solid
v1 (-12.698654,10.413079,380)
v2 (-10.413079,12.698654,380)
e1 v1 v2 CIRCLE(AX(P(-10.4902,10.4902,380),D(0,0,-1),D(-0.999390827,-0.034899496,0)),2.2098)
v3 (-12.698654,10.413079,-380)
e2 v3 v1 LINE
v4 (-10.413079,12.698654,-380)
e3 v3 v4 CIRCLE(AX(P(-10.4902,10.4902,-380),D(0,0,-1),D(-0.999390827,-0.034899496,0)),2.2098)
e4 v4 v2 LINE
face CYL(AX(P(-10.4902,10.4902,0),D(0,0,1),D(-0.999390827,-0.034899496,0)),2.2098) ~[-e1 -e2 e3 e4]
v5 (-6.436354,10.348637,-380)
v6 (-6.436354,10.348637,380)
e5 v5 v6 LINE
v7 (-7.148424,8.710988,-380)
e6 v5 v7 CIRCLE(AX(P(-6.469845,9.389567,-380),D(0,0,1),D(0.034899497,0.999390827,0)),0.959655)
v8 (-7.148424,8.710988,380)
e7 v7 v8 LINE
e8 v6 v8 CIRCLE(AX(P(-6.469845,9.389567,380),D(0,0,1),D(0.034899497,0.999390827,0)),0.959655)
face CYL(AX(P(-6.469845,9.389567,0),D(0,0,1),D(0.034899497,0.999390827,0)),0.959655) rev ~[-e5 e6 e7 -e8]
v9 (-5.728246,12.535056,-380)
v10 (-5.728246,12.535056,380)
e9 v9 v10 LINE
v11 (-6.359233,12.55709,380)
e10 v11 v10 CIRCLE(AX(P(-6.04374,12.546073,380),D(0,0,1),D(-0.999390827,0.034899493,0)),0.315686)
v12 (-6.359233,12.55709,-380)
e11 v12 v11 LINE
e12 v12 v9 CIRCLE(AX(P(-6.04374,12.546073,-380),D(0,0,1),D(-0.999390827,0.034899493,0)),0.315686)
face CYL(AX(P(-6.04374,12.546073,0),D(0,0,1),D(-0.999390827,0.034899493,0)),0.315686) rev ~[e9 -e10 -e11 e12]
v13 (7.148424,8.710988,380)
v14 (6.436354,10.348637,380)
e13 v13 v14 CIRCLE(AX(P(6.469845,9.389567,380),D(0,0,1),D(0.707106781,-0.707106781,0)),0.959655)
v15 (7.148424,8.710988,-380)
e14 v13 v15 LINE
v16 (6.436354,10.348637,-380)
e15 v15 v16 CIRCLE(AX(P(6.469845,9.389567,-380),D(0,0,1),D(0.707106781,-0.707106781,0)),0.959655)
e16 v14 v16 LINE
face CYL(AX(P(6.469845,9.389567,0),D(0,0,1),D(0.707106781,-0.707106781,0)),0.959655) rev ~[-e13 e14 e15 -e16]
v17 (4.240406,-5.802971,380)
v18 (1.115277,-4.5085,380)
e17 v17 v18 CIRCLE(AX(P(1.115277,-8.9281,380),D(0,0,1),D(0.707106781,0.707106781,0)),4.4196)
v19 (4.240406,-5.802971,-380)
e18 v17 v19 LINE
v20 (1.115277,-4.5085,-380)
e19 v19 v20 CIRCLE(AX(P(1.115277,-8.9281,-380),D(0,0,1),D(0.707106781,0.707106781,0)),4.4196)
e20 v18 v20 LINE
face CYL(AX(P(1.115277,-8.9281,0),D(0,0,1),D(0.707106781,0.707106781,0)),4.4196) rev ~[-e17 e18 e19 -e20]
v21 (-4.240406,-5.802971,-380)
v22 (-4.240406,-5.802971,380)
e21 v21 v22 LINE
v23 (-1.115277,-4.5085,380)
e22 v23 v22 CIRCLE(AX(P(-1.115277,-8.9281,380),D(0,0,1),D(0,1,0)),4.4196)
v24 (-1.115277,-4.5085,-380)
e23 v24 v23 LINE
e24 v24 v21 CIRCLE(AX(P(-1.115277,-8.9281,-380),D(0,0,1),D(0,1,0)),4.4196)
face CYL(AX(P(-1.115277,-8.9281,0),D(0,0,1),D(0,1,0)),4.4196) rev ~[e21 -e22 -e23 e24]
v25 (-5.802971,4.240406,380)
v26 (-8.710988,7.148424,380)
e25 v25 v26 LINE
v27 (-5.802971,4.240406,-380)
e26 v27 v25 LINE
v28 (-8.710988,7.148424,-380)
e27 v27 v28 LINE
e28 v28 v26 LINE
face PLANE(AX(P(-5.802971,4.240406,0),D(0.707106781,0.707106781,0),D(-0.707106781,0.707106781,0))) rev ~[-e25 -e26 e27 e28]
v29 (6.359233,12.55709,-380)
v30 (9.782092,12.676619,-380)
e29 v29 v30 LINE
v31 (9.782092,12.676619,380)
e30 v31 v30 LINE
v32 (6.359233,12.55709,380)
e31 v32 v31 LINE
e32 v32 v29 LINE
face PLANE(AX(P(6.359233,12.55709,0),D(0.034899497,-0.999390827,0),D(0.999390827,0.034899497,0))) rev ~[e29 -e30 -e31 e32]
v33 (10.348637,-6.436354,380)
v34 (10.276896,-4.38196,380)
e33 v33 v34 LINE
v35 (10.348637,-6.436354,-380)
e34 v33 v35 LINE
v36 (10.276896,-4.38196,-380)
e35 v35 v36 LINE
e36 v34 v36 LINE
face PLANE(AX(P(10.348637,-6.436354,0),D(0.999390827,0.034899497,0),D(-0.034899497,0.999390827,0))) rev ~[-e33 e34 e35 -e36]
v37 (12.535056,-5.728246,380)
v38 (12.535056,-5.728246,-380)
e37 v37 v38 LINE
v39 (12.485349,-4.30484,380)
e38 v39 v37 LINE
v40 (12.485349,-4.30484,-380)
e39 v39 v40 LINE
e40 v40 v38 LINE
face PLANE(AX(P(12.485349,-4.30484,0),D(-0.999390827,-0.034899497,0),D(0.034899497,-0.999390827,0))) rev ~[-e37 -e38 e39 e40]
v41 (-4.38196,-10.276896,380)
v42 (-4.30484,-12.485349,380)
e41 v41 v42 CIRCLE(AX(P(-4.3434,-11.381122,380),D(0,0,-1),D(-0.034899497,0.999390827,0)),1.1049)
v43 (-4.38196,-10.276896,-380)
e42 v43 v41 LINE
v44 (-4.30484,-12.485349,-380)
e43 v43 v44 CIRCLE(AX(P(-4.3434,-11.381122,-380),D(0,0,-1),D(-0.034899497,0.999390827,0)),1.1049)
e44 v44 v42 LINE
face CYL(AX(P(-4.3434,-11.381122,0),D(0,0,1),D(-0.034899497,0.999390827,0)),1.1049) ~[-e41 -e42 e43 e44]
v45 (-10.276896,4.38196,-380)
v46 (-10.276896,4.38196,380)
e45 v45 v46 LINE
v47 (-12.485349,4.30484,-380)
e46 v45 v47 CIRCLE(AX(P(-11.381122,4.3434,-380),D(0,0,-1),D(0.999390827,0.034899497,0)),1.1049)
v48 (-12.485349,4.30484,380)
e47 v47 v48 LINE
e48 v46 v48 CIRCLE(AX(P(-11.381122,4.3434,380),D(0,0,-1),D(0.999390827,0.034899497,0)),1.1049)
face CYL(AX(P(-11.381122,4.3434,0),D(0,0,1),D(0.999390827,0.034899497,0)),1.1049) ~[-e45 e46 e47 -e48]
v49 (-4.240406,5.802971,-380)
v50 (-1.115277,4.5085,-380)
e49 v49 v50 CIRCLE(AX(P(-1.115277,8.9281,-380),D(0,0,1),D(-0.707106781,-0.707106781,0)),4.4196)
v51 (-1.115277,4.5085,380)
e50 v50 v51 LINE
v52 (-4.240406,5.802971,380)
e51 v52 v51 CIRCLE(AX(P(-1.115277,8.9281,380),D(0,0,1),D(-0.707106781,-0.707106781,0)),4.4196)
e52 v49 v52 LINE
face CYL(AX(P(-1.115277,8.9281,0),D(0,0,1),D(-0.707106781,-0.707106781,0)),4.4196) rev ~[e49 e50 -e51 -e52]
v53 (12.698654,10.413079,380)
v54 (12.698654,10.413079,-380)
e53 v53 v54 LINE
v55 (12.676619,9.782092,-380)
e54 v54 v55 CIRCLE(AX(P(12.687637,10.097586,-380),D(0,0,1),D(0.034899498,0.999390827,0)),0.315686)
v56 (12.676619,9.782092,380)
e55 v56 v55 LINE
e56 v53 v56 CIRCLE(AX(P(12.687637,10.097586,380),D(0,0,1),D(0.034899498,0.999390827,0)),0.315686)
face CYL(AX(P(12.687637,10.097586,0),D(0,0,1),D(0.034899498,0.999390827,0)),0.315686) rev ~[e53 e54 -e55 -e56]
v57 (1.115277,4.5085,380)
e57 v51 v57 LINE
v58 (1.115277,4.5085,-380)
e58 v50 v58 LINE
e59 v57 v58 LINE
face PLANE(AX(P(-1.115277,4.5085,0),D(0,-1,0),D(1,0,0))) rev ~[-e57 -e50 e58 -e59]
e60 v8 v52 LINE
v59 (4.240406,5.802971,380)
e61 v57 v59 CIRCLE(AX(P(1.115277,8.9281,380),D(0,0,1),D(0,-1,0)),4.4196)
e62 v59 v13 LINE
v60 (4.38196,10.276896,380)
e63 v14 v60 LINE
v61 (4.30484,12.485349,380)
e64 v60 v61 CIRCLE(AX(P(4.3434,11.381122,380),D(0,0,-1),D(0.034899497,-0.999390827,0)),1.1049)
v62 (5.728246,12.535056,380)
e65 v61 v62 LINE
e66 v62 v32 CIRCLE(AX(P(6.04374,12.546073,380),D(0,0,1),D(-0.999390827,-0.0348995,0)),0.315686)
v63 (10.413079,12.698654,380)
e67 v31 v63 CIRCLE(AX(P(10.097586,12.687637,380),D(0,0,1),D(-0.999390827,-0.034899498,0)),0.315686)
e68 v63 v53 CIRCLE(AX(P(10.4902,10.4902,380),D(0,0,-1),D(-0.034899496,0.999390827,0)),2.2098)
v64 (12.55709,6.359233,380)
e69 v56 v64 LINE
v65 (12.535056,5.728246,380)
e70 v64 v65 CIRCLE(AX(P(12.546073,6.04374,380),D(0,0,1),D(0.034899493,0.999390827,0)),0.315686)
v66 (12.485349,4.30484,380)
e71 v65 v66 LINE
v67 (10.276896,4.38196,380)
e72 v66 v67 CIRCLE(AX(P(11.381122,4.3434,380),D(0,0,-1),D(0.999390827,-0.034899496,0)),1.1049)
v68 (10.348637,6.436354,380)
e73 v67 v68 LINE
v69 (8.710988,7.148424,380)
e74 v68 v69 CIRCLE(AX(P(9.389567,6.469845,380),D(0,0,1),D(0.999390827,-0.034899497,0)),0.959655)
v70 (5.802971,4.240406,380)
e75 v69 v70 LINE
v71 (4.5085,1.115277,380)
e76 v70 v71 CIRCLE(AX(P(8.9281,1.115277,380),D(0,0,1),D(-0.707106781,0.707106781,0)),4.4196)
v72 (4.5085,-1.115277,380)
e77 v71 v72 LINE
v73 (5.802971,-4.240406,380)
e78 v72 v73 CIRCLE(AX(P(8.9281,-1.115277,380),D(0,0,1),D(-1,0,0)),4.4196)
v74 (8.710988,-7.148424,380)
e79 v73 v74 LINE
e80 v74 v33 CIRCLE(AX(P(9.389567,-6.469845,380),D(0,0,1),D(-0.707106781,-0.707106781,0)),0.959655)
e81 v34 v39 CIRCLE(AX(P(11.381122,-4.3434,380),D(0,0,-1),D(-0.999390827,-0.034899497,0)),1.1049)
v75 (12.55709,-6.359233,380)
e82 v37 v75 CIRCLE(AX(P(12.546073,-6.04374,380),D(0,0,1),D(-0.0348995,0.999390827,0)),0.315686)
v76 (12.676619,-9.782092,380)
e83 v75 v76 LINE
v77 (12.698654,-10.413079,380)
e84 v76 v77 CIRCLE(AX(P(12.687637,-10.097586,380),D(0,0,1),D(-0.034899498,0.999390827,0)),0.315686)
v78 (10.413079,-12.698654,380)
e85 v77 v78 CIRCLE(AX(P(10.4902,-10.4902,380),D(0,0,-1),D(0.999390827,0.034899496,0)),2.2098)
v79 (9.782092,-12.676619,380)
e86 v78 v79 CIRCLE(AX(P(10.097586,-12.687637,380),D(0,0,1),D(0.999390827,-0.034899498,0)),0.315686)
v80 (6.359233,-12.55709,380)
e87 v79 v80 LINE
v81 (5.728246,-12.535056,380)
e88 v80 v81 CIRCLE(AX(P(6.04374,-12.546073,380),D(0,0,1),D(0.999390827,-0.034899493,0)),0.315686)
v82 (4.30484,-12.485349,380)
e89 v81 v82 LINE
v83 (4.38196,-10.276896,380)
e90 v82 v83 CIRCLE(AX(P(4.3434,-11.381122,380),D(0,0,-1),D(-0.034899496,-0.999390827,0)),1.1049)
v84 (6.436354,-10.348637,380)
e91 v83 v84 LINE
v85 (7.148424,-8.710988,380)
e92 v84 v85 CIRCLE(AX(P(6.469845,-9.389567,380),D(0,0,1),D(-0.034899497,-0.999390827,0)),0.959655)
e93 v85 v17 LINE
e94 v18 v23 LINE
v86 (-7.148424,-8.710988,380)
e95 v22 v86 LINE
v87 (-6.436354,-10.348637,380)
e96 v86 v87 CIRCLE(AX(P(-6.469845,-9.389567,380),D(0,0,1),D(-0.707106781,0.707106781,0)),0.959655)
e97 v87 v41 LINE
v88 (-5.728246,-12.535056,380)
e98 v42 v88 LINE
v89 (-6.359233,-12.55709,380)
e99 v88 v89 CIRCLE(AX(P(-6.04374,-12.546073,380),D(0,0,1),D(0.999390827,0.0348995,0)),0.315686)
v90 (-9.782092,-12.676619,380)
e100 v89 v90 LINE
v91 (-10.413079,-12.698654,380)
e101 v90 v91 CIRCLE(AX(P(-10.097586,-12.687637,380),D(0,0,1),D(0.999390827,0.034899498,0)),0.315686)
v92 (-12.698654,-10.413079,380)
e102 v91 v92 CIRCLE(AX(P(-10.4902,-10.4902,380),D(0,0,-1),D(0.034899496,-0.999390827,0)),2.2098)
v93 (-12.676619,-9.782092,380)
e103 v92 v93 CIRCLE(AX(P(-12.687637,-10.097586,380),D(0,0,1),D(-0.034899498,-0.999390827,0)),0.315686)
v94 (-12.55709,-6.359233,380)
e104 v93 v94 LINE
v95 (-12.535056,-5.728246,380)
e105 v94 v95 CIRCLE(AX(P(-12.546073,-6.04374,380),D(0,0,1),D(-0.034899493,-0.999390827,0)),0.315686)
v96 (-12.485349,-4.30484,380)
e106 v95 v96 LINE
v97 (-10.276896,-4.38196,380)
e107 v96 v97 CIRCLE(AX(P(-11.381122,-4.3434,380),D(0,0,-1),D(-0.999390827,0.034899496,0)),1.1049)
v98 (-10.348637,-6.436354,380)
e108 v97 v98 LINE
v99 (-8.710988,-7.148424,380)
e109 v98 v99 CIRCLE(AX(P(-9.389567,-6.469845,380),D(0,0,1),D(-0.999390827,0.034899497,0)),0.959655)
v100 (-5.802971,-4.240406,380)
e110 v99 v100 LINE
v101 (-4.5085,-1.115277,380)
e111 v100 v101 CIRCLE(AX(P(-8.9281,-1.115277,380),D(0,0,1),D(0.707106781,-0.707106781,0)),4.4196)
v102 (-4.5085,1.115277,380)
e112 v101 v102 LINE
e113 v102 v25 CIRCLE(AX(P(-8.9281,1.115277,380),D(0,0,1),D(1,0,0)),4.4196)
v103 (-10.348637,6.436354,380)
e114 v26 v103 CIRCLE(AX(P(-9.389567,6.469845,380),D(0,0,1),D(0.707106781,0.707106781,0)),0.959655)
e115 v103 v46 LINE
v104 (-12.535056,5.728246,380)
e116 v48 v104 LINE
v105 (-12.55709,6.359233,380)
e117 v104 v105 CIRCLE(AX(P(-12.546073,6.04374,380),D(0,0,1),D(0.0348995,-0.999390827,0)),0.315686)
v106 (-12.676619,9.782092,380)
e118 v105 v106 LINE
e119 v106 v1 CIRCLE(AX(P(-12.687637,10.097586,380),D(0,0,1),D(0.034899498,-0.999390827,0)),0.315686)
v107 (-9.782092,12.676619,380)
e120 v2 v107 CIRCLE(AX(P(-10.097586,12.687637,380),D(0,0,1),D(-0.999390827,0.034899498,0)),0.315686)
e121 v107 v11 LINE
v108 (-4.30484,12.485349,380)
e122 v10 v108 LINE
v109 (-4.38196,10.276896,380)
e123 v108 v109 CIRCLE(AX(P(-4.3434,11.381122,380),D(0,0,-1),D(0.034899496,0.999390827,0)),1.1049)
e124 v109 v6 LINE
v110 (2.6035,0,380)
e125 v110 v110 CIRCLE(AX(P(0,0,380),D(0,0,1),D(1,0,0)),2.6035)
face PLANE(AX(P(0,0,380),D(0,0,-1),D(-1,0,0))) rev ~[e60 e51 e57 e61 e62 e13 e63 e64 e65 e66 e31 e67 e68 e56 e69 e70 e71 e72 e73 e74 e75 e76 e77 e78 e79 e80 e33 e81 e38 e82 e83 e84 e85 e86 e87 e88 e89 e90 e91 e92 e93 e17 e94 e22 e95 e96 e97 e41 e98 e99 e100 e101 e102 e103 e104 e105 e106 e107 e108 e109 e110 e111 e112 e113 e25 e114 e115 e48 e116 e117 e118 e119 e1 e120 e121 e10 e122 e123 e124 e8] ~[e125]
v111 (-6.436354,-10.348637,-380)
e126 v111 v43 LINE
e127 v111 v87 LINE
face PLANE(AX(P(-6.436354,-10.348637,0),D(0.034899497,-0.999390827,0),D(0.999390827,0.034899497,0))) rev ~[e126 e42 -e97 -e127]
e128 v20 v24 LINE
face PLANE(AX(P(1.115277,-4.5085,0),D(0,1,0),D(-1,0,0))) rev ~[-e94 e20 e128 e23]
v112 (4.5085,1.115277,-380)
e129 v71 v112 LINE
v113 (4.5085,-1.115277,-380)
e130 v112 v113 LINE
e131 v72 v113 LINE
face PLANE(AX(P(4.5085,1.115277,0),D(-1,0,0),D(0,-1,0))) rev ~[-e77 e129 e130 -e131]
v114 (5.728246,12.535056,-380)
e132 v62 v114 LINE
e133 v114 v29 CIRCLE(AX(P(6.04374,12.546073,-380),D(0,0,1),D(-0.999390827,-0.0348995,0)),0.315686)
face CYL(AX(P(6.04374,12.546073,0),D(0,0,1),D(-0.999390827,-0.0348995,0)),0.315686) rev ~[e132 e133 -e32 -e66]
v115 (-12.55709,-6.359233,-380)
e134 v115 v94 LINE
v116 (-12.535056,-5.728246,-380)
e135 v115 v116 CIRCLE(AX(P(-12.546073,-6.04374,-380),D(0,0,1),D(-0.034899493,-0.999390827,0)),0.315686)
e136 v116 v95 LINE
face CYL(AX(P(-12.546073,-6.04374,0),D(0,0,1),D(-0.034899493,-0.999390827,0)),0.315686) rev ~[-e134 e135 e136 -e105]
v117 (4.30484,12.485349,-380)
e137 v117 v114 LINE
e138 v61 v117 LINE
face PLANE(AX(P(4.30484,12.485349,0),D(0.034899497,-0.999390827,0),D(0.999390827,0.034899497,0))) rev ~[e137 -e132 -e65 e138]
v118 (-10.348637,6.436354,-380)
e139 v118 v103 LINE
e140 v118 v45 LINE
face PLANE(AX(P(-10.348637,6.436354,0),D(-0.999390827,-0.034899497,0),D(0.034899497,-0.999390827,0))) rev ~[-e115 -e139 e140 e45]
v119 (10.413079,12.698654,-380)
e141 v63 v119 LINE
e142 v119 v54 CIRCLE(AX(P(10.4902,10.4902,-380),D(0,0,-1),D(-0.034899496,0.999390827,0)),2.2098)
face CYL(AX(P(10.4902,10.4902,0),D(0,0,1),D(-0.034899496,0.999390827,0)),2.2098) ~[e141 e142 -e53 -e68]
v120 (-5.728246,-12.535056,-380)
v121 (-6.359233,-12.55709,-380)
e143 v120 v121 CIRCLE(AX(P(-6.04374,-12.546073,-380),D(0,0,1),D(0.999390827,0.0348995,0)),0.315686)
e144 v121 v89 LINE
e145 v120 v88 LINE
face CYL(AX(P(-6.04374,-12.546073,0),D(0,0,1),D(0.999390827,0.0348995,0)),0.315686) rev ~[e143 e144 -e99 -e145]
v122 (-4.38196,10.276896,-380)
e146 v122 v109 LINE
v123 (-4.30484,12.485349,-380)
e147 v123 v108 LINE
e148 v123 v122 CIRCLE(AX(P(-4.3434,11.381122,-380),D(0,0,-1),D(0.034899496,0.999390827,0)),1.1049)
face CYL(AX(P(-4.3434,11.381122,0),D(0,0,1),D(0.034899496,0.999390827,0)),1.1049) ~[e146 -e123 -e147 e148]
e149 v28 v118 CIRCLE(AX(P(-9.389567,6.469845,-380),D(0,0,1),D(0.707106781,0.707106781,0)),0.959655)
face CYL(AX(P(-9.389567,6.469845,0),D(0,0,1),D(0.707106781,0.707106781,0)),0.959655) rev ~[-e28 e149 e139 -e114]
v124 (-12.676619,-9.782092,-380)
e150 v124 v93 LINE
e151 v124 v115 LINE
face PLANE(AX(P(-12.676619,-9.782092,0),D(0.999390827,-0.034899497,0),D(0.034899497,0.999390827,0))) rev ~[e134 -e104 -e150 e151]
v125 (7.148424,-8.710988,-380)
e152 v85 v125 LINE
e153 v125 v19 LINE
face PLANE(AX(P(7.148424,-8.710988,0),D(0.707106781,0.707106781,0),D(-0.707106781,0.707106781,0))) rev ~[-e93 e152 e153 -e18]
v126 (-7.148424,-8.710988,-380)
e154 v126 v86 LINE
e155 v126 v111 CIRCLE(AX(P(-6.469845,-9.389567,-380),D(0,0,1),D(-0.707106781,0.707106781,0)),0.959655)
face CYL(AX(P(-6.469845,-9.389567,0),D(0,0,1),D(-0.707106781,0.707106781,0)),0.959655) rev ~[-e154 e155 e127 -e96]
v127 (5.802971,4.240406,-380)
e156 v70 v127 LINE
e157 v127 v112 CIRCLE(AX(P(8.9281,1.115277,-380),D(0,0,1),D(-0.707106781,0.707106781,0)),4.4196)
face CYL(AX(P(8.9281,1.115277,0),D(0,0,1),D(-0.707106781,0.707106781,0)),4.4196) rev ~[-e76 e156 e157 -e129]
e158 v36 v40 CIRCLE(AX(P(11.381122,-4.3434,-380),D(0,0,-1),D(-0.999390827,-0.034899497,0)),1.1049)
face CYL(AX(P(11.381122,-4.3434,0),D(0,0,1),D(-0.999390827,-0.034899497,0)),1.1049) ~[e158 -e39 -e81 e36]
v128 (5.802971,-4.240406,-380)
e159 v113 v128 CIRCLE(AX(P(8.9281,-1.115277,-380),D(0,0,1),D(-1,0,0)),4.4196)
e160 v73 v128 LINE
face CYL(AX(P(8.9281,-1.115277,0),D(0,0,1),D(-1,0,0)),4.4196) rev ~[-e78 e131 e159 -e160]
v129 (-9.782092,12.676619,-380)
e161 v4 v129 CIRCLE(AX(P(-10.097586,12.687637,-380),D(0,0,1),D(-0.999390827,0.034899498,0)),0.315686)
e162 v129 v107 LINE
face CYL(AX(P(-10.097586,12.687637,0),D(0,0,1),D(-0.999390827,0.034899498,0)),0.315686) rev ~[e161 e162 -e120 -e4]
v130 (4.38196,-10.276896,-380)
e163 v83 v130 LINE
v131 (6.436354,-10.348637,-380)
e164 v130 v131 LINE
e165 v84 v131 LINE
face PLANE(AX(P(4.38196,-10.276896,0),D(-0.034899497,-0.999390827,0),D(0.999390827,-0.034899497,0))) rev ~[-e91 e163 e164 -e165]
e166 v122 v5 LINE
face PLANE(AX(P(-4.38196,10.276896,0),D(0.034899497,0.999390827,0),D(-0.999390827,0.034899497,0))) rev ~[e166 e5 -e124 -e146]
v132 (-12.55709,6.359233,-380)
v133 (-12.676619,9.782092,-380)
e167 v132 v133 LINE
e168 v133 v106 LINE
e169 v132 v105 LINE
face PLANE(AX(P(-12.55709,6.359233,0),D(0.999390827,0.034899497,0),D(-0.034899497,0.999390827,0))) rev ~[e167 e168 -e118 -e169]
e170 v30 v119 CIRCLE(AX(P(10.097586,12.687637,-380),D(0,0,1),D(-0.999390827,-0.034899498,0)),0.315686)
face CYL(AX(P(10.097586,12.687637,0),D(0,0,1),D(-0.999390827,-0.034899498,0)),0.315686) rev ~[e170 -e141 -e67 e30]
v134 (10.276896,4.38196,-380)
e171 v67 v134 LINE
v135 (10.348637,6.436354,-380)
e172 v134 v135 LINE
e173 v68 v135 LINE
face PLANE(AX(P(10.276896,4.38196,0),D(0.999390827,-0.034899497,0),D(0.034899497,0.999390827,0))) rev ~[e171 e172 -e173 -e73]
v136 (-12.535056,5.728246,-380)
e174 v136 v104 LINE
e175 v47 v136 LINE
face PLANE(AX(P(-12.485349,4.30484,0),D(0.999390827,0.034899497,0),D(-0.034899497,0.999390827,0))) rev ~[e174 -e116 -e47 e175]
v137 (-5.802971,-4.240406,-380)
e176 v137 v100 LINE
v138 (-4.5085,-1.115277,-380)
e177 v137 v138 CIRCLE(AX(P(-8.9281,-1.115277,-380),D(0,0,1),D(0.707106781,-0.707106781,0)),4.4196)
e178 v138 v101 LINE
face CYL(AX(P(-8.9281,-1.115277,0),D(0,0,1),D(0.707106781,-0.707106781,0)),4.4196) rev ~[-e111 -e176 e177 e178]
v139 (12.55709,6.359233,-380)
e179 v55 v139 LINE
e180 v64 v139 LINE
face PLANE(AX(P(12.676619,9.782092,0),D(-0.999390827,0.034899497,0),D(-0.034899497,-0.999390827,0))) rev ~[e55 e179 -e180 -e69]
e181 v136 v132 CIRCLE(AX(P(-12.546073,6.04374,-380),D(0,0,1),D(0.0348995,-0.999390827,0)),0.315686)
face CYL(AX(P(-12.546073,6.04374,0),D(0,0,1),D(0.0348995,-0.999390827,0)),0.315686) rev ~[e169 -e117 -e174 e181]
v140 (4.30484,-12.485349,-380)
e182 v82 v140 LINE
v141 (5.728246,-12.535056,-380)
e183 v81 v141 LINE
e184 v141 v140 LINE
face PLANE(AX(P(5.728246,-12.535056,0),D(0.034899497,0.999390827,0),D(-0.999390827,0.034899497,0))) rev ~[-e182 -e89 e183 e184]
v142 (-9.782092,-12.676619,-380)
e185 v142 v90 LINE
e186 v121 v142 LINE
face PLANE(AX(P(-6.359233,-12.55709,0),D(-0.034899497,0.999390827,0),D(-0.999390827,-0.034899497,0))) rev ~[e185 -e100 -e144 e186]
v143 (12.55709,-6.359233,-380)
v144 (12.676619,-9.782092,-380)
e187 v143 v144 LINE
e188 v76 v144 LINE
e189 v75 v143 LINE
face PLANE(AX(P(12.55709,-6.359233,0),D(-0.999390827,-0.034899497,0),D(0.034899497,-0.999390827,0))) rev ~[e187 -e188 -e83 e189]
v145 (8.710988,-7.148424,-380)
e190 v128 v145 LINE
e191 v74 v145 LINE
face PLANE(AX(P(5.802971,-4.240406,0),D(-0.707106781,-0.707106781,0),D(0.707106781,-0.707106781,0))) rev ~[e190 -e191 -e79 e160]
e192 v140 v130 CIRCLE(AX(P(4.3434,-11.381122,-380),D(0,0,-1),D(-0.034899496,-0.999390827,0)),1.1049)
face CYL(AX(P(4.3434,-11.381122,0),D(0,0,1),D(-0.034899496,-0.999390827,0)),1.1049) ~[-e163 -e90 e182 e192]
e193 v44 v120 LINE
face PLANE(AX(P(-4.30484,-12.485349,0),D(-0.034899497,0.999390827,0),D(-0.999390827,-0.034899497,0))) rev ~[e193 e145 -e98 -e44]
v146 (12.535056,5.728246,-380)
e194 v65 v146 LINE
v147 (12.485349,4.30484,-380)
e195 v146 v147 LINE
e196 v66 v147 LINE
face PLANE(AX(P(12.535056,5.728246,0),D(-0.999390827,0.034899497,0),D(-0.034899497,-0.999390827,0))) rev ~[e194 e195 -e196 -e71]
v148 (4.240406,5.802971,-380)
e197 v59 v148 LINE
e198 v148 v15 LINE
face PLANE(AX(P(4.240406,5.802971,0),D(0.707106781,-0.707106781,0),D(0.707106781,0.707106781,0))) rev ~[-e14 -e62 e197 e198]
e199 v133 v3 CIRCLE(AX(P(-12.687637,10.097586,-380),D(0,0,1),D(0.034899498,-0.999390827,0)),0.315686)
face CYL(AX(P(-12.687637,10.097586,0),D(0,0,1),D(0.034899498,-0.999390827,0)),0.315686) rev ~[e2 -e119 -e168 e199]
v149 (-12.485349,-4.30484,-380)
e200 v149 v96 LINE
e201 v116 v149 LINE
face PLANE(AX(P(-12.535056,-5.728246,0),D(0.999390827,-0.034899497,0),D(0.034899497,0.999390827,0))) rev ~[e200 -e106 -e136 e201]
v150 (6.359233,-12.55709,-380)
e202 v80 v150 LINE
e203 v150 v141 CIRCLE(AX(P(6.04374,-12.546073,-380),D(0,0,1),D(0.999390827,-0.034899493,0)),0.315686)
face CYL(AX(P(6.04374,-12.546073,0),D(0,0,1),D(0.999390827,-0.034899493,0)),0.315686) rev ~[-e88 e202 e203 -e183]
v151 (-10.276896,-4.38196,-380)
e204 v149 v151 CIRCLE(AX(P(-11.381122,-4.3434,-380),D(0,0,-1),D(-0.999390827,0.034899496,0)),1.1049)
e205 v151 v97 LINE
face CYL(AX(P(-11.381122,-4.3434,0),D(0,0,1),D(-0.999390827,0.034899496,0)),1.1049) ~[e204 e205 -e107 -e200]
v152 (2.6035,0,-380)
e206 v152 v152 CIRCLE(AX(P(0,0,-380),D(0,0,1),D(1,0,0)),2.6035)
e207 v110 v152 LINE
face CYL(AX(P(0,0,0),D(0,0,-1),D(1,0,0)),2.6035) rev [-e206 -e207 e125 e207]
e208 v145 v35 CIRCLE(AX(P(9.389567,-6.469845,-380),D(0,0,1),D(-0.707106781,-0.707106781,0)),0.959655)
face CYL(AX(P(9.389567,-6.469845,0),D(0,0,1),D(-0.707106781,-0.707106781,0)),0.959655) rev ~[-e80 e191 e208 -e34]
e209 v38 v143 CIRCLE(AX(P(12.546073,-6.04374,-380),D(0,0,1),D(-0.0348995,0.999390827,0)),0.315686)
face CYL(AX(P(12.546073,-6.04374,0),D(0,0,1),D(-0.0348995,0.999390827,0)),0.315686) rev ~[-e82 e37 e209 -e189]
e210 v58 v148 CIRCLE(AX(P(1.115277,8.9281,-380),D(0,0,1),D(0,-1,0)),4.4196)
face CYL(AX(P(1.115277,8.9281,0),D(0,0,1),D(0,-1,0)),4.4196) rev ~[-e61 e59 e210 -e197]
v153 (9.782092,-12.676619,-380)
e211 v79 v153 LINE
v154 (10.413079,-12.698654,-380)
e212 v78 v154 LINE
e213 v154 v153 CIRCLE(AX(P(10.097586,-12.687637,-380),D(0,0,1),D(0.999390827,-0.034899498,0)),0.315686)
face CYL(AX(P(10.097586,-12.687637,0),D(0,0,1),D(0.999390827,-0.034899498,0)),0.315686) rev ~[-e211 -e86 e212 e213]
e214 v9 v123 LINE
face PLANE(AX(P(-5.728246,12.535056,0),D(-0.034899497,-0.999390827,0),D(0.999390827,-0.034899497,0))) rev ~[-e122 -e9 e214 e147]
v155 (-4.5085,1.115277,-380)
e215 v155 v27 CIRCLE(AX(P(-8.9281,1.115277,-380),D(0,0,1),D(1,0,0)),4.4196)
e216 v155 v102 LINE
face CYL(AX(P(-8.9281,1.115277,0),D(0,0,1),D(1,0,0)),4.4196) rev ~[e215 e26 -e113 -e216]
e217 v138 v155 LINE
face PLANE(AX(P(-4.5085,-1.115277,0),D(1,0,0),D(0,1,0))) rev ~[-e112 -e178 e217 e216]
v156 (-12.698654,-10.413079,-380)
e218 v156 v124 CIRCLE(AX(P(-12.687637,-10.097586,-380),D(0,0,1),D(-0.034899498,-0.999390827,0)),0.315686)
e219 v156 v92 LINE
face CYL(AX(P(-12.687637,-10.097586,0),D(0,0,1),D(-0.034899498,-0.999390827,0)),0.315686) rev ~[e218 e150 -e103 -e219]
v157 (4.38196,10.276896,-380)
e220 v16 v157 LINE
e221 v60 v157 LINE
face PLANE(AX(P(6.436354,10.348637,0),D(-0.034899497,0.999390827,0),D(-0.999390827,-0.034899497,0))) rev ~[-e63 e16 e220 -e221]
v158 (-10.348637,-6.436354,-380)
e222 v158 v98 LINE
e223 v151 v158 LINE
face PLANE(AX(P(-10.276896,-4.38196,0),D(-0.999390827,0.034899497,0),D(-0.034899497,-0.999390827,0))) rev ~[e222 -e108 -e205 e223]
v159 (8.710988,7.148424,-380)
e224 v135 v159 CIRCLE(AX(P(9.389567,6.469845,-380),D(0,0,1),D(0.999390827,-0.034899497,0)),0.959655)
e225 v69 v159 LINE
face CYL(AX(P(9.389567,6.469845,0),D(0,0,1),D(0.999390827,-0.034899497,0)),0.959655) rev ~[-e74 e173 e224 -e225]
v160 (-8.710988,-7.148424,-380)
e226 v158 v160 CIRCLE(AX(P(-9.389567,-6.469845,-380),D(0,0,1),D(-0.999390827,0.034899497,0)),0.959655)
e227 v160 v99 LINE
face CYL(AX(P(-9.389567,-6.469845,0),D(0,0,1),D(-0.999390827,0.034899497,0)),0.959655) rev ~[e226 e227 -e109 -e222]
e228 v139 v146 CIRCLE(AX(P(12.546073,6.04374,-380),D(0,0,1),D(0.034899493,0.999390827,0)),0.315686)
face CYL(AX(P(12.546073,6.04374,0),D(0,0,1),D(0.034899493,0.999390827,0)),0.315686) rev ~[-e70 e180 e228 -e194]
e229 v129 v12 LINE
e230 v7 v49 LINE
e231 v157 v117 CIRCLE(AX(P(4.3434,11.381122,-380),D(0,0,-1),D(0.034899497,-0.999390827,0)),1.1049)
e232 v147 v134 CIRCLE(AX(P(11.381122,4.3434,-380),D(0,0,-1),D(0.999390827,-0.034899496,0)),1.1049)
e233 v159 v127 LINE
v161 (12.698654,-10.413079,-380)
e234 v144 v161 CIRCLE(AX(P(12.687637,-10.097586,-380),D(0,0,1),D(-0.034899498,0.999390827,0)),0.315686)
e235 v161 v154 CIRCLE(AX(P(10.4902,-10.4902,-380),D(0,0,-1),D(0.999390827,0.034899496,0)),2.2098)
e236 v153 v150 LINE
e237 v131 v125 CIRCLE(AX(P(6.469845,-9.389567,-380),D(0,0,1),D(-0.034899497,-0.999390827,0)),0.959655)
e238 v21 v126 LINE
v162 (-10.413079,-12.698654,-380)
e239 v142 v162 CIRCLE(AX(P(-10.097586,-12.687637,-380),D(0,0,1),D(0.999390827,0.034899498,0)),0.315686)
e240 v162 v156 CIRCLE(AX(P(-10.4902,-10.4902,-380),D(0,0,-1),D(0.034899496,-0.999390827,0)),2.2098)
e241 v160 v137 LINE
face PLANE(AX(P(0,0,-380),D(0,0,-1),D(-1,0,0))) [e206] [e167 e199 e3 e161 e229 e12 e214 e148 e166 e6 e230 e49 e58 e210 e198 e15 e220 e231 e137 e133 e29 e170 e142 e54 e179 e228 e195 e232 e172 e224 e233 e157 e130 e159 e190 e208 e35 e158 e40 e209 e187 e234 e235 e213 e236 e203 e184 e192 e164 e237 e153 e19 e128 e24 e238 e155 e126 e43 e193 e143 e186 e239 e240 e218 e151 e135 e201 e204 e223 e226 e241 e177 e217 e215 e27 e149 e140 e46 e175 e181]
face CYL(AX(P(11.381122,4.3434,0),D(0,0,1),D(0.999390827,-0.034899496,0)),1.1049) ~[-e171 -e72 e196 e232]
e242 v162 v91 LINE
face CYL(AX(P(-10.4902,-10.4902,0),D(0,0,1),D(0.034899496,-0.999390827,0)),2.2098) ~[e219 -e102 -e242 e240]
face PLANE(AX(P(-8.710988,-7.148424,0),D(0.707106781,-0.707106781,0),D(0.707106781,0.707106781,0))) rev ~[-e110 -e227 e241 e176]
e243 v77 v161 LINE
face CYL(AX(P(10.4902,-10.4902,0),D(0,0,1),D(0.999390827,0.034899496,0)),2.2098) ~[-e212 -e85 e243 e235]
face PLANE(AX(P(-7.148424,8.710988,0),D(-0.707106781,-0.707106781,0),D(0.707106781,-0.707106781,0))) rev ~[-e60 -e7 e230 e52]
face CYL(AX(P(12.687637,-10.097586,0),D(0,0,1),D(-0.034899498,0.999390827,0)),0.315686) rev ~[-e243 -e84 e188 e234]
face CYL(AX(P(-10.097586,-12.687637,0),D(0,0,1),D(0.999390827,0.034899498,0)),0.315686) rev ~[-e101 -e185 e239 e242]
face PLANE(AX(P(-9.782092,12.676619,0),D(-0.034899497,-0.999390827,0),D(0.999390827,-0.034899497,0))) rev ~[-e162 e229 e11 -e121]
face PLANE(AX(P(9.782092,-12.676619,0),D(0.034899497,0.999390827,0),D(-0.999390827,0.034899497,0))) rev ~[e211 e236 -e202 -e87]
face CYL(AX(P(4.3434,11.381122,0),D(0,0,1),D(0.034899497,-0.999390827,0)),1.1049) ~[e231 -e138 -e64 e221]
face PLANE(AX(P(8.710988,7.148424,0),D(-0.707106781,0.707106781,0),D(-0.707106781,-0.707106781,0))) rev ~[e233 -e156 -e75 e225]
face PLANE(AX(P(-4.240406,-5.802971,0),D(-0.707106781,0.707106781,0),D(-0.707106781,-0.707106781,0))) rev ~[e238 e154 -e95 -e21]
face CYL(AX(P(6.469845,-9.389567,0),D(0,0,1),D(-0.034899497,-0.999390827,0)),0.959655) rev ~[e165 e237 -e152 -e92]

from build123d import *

# Parameters (mm, degrees)
SKETCH3_R      = 2.6035
EXTRUDE1_DEPTH = 380


with BuildPart() as part:
    # Sketch3 → Extrude1 (new body, symmetric)
    with BuildSketch(Plane.XY):
        with BuildLine():
            Line((-1.115277175, 4.5085), (1.115277175, 4.5085))
            ThreePointArc((1.115277175, 4.5085), (2.806584872, 4.844922018), (4.240406305, 5.80297087))
            Line((4.240406305, 5.80297087), (7.148423664, 8.710988229))
            ThreePointArc((7.148423664, 8.710988229), (7.349906316, 9.772227925), (6.436353897, 10.348636575))
            Line((6.436353897, 10.348636575), (4.381960454, 10.276895575))
            ThreePointArc((4.381960454, 10.276895575), (3.239173075, 11.342562046), (4.304839546, 12.485349424))
            Line((4.304839546, 12.485349424), (5.728246175, 12.535055879))
            ThreePointArc((5.728246175, 12.535055879), (6.054756855, 12.230579745), (6.35923299, 12.557090424))
            Line((6.35923299, 12.557090424), (9.782092278, 12.676619304))
            ThreePointArc((9.782092278, 12.676619304), (10.108602958, 12.37214317), (10.413079092, 12.69865385))
            ThreePointArc((10.413079092, 12.69865385), (12.052764565, 12.052764565), (12.69865385, 10.413079092))
            ThreePointArc((12.69865385, 10.413079092), (12.37214317, 10.108602958), (12.676619304, 9.782092278))
            Line((12.676619304, 9.782092278), (12.557090424, 6.35923299))
            ThreePointArc((12.557090424, 6.35923299), (12.230579745, 6.054756855), (12.535055879, 5.728246175))
            Line((12.535055879, 5.728246175), (12.485349424, 4.304839546))
            ThreePointArc((12.485349424, 4.304839546), (11.342562046, 3.239173075), (10.276895575, 4.381960454))
            Line((10.276895575, 4.381960454), (10.348636575, 6.436353897))
            ThreePointArc((10.348636575, 6.436353897), (9.772227925, 7.349906316), (8.710988229, 7.148423664))
            Line((8.710988229, 7.148423664), (5.80297087, 4.240406305))
            ThreePointArc((5.80297087, 4.240406305), (4.844922018, 2.806584872), (4.5085, 1.115277175))
            Line((4.5085, 1.115277175), (4.5085, -1.115277175))
            ThreePointArc((4.5085, -1.115277175), (4.844922018, -2.806584872), (5.80297087, -4.240406305))
            Line((5.80297087, -4.240406305), (8.710988229, -7.148423664))
            ThreePointArc((8.710988229, -7.148423664), (9.772227925, -7.349906316), (10.348636575, -6.436353897))
            Line((10.348636575, -6.436353897), (10.276895575, -4.381960454))
            ThreePointArc((10.276895575, -4.381960454), (11.342562046, -3.239173075), (12.485349424, -4.304839546))
            Line((12.485349424, -4.304839546), (12.535055879, -5.728246175))
            ThreePointArc((12.535055879, -5.728246175), (12.230579745, -6.054756855), (12.557090424, -6.35923299))
            Line((12.557090424, -6.35923299), (12.676619304, -9.782092278))
            ThreePointArc((12.676619304, -9.782092278), (12.37214317, -10.108602958), (12.69865385, -10.413079092))
            ThreePointArc((12.69865385, -10.413079092), (12.052764565, -12.052764565), (10.413079092, -12.69865385))
            ThreePointArc((10.413079092, -12.69865385), (10.108602958, -12.37214317), (9.782092278, -12.676619304))
            Line((9.782092278, -12.676619304), (6.35923299, -12.557090424))
            ThreePointArc((6.35923299, -12.557090424), (6.054756855, -12.230579745), (5.728246175, -12.535055879))
            Line((5.728246175, -12.535055879), (4.304839546, -12.485349424))
            ThreePointArc((4.304839546, -12.485349424), (3.239173075, -11.342562046), (4.381960454, -10.276895575))
            Line((4.381960454, -10.276895575), (6.436353897, -10.348636575))
            ThreePointArc((6.436353897, -10.348636575), (7.349906316, -9.772227925), (7.148423664, -8.710988229))
            Line((7.148423664, -8.710988229), (4.240406305, -5.80297087))
            ThreePointArc((4.240406305, -5.80297087), (2.806584872, -4.844922018), (1.115277175, -4.5085))
            Line((1.115277175, -4.5085), (-1.115277175, -4.5085))
            ThreePointArc((-1.115277175, -4.5085), (-2.806584872, -4.844922018), (-4.240406305, -5.80297087))
            Line((-4.240406305, -5.80297087), (-7.148423664, -8.710988229))
            ThreePointArc((-7.148423664, -8.710988229), (-7.349906316, -9.772227925), (-6.436353897, -10.348636575))
            Line((-6.436353897, -10.348636575), (-4.381960454, -10.276895575))
            ThreePointArc((-4.381960454, -10.276895575), (-3.239173075, -11.342562046), (-4.304839546, -12.485349424))
            Line((-4.304839546, -12.485349424), (-5.728246175, -12.535055879))
            ThreePointArc((-5.728246175, -12.535055879), (-6.054756855, -12.230579745), (-6.35923299, -12.557090424))
            Line((-6.35923299, -12.557090424), (-9.782092278, -12.676619304))
            ThreePointArc((-9.782092278, -12.676619304), (-10.108602958, -12.37214317), (-10.413079092, -12.69865385))
            ThreePointArc((-10.413079092, -12.69865385), (-12.052764565, -12.052764565), (-12.69865385, -10.413079092))
            ThreePointArc((-12.69865385, -10.413079092), (-12.37214317, -10.108602958), (-12.676619304, -9.782092278))
            Line((-12.676619304, -9.782092278), (-12.557090424, -6.35923299))
            ThreePointArc((-12.557090424, -6.35923299), (-12.230579745, -6.054756855), (-12.535055879, -5.728246175))
            Line((-12.535055879, -5.728246175), (-12.485349424, -4.304839546))
            ThreePointArc((-12.485349424, -4.304839546), (-11.342562046, -3.239173075), (-10.276895575, -4.381960454))
            Line((-10.276895575, -4.381960454), (-10.348636575, -6.436353897))
            ThreePointArc((-10.348636575, -6.436353897), (-9.772227925, -7.349906316), (-8.710988229, -7.148423664))
            Line((-8.710988229, -7.148423664), (-5.80297087, -4.240406305))
            ThreePointArc((-5.80297087, -4.240406305), (-4.844922018, -2.806584872), (-4.5085, -1.115277175))
            Line((-4.5085, -1.115277175), (-4.5085, 1.115277175))
            ThreePointArc((-4.5085, 1.115277175), (-4.844922018, 2.806584872), (-5.80297087, 4.240406305))
            Line((-5.80297087, 4.240406305), (-8.710988229, 7.148423664))
            ThreePointArc((-8.710988229, 7.148423664), (-9.772227925, 7.349906316), (-10.348636575, 6.436353897))
            Line((-10.348636575, 6.436353897), (-10.276895575, 4.381960454))
            ThreePointArc((-10.276895575, 4.381960454), (-11.342562046, 3.239173075), (-12.485349424, 4.304839546))
            Line((-12.485349424, 4.304839546), (-12.535055879, 5.728246175))
            ThreePointArc((-12.535055879, 5.728246175), (-12.230579745, 6.054756855), (-12.557090424, 6.35923299))
            Line((-12.557090424, 6.35923299), (-12.676619304, 9.782092278))
            ThreePointArc((-12.676619304, 9.782092278), (-12.37214317, 10.108602958), (-12.69865385, 10.413079092))
            ThreePointArc((-12.69865385, 10.413079092), (-12.052764565, 12.052764565), (-10.413079092, 12.69865385))
            ThreePointArc((-10.413079092, 12.69865385), (-10.108602958, 12.37214317), (-9.782092278, 12.676619304))
            Line((-9.782092278, 12.676619304), (-6.35923299, 12.557090424))
            ThreePointArc((-6.35923299, 12.557090424), (-6.054756855, 12.230579745), (-5.728246175, 12.535055879))
            Line((-5.728246175, 12.535055879), (-4.304839546, 12.485349424))
            ThreePointArc((-4.304839546, 12.485349424), (-3.239173075, 11.342562046), (-4.381960454, 10.276895575))
            Line((-4.381960454, 10.276895575), (-6.436353897, 10.348636575))
            ThreePointArc((-6.436353897, 10.348636575), (-7.349906316, 9.772227925), (-7.148423664, 8.710988229))
            Line((-7.148423664, 8.710988229), (-4.240406305, 5.80297087))
            ThreePointArc((-4.240406305, 5.80297087), (-2.806584872, 4.844922018), (-1.115277175, 4.5085))
        make_face()
        Circle(SKETCH3_R, mode=Mode.SUBTRACT)
    extrude(amount=EXTRUDE1_DEPTH, both=True)


solid = part.part
